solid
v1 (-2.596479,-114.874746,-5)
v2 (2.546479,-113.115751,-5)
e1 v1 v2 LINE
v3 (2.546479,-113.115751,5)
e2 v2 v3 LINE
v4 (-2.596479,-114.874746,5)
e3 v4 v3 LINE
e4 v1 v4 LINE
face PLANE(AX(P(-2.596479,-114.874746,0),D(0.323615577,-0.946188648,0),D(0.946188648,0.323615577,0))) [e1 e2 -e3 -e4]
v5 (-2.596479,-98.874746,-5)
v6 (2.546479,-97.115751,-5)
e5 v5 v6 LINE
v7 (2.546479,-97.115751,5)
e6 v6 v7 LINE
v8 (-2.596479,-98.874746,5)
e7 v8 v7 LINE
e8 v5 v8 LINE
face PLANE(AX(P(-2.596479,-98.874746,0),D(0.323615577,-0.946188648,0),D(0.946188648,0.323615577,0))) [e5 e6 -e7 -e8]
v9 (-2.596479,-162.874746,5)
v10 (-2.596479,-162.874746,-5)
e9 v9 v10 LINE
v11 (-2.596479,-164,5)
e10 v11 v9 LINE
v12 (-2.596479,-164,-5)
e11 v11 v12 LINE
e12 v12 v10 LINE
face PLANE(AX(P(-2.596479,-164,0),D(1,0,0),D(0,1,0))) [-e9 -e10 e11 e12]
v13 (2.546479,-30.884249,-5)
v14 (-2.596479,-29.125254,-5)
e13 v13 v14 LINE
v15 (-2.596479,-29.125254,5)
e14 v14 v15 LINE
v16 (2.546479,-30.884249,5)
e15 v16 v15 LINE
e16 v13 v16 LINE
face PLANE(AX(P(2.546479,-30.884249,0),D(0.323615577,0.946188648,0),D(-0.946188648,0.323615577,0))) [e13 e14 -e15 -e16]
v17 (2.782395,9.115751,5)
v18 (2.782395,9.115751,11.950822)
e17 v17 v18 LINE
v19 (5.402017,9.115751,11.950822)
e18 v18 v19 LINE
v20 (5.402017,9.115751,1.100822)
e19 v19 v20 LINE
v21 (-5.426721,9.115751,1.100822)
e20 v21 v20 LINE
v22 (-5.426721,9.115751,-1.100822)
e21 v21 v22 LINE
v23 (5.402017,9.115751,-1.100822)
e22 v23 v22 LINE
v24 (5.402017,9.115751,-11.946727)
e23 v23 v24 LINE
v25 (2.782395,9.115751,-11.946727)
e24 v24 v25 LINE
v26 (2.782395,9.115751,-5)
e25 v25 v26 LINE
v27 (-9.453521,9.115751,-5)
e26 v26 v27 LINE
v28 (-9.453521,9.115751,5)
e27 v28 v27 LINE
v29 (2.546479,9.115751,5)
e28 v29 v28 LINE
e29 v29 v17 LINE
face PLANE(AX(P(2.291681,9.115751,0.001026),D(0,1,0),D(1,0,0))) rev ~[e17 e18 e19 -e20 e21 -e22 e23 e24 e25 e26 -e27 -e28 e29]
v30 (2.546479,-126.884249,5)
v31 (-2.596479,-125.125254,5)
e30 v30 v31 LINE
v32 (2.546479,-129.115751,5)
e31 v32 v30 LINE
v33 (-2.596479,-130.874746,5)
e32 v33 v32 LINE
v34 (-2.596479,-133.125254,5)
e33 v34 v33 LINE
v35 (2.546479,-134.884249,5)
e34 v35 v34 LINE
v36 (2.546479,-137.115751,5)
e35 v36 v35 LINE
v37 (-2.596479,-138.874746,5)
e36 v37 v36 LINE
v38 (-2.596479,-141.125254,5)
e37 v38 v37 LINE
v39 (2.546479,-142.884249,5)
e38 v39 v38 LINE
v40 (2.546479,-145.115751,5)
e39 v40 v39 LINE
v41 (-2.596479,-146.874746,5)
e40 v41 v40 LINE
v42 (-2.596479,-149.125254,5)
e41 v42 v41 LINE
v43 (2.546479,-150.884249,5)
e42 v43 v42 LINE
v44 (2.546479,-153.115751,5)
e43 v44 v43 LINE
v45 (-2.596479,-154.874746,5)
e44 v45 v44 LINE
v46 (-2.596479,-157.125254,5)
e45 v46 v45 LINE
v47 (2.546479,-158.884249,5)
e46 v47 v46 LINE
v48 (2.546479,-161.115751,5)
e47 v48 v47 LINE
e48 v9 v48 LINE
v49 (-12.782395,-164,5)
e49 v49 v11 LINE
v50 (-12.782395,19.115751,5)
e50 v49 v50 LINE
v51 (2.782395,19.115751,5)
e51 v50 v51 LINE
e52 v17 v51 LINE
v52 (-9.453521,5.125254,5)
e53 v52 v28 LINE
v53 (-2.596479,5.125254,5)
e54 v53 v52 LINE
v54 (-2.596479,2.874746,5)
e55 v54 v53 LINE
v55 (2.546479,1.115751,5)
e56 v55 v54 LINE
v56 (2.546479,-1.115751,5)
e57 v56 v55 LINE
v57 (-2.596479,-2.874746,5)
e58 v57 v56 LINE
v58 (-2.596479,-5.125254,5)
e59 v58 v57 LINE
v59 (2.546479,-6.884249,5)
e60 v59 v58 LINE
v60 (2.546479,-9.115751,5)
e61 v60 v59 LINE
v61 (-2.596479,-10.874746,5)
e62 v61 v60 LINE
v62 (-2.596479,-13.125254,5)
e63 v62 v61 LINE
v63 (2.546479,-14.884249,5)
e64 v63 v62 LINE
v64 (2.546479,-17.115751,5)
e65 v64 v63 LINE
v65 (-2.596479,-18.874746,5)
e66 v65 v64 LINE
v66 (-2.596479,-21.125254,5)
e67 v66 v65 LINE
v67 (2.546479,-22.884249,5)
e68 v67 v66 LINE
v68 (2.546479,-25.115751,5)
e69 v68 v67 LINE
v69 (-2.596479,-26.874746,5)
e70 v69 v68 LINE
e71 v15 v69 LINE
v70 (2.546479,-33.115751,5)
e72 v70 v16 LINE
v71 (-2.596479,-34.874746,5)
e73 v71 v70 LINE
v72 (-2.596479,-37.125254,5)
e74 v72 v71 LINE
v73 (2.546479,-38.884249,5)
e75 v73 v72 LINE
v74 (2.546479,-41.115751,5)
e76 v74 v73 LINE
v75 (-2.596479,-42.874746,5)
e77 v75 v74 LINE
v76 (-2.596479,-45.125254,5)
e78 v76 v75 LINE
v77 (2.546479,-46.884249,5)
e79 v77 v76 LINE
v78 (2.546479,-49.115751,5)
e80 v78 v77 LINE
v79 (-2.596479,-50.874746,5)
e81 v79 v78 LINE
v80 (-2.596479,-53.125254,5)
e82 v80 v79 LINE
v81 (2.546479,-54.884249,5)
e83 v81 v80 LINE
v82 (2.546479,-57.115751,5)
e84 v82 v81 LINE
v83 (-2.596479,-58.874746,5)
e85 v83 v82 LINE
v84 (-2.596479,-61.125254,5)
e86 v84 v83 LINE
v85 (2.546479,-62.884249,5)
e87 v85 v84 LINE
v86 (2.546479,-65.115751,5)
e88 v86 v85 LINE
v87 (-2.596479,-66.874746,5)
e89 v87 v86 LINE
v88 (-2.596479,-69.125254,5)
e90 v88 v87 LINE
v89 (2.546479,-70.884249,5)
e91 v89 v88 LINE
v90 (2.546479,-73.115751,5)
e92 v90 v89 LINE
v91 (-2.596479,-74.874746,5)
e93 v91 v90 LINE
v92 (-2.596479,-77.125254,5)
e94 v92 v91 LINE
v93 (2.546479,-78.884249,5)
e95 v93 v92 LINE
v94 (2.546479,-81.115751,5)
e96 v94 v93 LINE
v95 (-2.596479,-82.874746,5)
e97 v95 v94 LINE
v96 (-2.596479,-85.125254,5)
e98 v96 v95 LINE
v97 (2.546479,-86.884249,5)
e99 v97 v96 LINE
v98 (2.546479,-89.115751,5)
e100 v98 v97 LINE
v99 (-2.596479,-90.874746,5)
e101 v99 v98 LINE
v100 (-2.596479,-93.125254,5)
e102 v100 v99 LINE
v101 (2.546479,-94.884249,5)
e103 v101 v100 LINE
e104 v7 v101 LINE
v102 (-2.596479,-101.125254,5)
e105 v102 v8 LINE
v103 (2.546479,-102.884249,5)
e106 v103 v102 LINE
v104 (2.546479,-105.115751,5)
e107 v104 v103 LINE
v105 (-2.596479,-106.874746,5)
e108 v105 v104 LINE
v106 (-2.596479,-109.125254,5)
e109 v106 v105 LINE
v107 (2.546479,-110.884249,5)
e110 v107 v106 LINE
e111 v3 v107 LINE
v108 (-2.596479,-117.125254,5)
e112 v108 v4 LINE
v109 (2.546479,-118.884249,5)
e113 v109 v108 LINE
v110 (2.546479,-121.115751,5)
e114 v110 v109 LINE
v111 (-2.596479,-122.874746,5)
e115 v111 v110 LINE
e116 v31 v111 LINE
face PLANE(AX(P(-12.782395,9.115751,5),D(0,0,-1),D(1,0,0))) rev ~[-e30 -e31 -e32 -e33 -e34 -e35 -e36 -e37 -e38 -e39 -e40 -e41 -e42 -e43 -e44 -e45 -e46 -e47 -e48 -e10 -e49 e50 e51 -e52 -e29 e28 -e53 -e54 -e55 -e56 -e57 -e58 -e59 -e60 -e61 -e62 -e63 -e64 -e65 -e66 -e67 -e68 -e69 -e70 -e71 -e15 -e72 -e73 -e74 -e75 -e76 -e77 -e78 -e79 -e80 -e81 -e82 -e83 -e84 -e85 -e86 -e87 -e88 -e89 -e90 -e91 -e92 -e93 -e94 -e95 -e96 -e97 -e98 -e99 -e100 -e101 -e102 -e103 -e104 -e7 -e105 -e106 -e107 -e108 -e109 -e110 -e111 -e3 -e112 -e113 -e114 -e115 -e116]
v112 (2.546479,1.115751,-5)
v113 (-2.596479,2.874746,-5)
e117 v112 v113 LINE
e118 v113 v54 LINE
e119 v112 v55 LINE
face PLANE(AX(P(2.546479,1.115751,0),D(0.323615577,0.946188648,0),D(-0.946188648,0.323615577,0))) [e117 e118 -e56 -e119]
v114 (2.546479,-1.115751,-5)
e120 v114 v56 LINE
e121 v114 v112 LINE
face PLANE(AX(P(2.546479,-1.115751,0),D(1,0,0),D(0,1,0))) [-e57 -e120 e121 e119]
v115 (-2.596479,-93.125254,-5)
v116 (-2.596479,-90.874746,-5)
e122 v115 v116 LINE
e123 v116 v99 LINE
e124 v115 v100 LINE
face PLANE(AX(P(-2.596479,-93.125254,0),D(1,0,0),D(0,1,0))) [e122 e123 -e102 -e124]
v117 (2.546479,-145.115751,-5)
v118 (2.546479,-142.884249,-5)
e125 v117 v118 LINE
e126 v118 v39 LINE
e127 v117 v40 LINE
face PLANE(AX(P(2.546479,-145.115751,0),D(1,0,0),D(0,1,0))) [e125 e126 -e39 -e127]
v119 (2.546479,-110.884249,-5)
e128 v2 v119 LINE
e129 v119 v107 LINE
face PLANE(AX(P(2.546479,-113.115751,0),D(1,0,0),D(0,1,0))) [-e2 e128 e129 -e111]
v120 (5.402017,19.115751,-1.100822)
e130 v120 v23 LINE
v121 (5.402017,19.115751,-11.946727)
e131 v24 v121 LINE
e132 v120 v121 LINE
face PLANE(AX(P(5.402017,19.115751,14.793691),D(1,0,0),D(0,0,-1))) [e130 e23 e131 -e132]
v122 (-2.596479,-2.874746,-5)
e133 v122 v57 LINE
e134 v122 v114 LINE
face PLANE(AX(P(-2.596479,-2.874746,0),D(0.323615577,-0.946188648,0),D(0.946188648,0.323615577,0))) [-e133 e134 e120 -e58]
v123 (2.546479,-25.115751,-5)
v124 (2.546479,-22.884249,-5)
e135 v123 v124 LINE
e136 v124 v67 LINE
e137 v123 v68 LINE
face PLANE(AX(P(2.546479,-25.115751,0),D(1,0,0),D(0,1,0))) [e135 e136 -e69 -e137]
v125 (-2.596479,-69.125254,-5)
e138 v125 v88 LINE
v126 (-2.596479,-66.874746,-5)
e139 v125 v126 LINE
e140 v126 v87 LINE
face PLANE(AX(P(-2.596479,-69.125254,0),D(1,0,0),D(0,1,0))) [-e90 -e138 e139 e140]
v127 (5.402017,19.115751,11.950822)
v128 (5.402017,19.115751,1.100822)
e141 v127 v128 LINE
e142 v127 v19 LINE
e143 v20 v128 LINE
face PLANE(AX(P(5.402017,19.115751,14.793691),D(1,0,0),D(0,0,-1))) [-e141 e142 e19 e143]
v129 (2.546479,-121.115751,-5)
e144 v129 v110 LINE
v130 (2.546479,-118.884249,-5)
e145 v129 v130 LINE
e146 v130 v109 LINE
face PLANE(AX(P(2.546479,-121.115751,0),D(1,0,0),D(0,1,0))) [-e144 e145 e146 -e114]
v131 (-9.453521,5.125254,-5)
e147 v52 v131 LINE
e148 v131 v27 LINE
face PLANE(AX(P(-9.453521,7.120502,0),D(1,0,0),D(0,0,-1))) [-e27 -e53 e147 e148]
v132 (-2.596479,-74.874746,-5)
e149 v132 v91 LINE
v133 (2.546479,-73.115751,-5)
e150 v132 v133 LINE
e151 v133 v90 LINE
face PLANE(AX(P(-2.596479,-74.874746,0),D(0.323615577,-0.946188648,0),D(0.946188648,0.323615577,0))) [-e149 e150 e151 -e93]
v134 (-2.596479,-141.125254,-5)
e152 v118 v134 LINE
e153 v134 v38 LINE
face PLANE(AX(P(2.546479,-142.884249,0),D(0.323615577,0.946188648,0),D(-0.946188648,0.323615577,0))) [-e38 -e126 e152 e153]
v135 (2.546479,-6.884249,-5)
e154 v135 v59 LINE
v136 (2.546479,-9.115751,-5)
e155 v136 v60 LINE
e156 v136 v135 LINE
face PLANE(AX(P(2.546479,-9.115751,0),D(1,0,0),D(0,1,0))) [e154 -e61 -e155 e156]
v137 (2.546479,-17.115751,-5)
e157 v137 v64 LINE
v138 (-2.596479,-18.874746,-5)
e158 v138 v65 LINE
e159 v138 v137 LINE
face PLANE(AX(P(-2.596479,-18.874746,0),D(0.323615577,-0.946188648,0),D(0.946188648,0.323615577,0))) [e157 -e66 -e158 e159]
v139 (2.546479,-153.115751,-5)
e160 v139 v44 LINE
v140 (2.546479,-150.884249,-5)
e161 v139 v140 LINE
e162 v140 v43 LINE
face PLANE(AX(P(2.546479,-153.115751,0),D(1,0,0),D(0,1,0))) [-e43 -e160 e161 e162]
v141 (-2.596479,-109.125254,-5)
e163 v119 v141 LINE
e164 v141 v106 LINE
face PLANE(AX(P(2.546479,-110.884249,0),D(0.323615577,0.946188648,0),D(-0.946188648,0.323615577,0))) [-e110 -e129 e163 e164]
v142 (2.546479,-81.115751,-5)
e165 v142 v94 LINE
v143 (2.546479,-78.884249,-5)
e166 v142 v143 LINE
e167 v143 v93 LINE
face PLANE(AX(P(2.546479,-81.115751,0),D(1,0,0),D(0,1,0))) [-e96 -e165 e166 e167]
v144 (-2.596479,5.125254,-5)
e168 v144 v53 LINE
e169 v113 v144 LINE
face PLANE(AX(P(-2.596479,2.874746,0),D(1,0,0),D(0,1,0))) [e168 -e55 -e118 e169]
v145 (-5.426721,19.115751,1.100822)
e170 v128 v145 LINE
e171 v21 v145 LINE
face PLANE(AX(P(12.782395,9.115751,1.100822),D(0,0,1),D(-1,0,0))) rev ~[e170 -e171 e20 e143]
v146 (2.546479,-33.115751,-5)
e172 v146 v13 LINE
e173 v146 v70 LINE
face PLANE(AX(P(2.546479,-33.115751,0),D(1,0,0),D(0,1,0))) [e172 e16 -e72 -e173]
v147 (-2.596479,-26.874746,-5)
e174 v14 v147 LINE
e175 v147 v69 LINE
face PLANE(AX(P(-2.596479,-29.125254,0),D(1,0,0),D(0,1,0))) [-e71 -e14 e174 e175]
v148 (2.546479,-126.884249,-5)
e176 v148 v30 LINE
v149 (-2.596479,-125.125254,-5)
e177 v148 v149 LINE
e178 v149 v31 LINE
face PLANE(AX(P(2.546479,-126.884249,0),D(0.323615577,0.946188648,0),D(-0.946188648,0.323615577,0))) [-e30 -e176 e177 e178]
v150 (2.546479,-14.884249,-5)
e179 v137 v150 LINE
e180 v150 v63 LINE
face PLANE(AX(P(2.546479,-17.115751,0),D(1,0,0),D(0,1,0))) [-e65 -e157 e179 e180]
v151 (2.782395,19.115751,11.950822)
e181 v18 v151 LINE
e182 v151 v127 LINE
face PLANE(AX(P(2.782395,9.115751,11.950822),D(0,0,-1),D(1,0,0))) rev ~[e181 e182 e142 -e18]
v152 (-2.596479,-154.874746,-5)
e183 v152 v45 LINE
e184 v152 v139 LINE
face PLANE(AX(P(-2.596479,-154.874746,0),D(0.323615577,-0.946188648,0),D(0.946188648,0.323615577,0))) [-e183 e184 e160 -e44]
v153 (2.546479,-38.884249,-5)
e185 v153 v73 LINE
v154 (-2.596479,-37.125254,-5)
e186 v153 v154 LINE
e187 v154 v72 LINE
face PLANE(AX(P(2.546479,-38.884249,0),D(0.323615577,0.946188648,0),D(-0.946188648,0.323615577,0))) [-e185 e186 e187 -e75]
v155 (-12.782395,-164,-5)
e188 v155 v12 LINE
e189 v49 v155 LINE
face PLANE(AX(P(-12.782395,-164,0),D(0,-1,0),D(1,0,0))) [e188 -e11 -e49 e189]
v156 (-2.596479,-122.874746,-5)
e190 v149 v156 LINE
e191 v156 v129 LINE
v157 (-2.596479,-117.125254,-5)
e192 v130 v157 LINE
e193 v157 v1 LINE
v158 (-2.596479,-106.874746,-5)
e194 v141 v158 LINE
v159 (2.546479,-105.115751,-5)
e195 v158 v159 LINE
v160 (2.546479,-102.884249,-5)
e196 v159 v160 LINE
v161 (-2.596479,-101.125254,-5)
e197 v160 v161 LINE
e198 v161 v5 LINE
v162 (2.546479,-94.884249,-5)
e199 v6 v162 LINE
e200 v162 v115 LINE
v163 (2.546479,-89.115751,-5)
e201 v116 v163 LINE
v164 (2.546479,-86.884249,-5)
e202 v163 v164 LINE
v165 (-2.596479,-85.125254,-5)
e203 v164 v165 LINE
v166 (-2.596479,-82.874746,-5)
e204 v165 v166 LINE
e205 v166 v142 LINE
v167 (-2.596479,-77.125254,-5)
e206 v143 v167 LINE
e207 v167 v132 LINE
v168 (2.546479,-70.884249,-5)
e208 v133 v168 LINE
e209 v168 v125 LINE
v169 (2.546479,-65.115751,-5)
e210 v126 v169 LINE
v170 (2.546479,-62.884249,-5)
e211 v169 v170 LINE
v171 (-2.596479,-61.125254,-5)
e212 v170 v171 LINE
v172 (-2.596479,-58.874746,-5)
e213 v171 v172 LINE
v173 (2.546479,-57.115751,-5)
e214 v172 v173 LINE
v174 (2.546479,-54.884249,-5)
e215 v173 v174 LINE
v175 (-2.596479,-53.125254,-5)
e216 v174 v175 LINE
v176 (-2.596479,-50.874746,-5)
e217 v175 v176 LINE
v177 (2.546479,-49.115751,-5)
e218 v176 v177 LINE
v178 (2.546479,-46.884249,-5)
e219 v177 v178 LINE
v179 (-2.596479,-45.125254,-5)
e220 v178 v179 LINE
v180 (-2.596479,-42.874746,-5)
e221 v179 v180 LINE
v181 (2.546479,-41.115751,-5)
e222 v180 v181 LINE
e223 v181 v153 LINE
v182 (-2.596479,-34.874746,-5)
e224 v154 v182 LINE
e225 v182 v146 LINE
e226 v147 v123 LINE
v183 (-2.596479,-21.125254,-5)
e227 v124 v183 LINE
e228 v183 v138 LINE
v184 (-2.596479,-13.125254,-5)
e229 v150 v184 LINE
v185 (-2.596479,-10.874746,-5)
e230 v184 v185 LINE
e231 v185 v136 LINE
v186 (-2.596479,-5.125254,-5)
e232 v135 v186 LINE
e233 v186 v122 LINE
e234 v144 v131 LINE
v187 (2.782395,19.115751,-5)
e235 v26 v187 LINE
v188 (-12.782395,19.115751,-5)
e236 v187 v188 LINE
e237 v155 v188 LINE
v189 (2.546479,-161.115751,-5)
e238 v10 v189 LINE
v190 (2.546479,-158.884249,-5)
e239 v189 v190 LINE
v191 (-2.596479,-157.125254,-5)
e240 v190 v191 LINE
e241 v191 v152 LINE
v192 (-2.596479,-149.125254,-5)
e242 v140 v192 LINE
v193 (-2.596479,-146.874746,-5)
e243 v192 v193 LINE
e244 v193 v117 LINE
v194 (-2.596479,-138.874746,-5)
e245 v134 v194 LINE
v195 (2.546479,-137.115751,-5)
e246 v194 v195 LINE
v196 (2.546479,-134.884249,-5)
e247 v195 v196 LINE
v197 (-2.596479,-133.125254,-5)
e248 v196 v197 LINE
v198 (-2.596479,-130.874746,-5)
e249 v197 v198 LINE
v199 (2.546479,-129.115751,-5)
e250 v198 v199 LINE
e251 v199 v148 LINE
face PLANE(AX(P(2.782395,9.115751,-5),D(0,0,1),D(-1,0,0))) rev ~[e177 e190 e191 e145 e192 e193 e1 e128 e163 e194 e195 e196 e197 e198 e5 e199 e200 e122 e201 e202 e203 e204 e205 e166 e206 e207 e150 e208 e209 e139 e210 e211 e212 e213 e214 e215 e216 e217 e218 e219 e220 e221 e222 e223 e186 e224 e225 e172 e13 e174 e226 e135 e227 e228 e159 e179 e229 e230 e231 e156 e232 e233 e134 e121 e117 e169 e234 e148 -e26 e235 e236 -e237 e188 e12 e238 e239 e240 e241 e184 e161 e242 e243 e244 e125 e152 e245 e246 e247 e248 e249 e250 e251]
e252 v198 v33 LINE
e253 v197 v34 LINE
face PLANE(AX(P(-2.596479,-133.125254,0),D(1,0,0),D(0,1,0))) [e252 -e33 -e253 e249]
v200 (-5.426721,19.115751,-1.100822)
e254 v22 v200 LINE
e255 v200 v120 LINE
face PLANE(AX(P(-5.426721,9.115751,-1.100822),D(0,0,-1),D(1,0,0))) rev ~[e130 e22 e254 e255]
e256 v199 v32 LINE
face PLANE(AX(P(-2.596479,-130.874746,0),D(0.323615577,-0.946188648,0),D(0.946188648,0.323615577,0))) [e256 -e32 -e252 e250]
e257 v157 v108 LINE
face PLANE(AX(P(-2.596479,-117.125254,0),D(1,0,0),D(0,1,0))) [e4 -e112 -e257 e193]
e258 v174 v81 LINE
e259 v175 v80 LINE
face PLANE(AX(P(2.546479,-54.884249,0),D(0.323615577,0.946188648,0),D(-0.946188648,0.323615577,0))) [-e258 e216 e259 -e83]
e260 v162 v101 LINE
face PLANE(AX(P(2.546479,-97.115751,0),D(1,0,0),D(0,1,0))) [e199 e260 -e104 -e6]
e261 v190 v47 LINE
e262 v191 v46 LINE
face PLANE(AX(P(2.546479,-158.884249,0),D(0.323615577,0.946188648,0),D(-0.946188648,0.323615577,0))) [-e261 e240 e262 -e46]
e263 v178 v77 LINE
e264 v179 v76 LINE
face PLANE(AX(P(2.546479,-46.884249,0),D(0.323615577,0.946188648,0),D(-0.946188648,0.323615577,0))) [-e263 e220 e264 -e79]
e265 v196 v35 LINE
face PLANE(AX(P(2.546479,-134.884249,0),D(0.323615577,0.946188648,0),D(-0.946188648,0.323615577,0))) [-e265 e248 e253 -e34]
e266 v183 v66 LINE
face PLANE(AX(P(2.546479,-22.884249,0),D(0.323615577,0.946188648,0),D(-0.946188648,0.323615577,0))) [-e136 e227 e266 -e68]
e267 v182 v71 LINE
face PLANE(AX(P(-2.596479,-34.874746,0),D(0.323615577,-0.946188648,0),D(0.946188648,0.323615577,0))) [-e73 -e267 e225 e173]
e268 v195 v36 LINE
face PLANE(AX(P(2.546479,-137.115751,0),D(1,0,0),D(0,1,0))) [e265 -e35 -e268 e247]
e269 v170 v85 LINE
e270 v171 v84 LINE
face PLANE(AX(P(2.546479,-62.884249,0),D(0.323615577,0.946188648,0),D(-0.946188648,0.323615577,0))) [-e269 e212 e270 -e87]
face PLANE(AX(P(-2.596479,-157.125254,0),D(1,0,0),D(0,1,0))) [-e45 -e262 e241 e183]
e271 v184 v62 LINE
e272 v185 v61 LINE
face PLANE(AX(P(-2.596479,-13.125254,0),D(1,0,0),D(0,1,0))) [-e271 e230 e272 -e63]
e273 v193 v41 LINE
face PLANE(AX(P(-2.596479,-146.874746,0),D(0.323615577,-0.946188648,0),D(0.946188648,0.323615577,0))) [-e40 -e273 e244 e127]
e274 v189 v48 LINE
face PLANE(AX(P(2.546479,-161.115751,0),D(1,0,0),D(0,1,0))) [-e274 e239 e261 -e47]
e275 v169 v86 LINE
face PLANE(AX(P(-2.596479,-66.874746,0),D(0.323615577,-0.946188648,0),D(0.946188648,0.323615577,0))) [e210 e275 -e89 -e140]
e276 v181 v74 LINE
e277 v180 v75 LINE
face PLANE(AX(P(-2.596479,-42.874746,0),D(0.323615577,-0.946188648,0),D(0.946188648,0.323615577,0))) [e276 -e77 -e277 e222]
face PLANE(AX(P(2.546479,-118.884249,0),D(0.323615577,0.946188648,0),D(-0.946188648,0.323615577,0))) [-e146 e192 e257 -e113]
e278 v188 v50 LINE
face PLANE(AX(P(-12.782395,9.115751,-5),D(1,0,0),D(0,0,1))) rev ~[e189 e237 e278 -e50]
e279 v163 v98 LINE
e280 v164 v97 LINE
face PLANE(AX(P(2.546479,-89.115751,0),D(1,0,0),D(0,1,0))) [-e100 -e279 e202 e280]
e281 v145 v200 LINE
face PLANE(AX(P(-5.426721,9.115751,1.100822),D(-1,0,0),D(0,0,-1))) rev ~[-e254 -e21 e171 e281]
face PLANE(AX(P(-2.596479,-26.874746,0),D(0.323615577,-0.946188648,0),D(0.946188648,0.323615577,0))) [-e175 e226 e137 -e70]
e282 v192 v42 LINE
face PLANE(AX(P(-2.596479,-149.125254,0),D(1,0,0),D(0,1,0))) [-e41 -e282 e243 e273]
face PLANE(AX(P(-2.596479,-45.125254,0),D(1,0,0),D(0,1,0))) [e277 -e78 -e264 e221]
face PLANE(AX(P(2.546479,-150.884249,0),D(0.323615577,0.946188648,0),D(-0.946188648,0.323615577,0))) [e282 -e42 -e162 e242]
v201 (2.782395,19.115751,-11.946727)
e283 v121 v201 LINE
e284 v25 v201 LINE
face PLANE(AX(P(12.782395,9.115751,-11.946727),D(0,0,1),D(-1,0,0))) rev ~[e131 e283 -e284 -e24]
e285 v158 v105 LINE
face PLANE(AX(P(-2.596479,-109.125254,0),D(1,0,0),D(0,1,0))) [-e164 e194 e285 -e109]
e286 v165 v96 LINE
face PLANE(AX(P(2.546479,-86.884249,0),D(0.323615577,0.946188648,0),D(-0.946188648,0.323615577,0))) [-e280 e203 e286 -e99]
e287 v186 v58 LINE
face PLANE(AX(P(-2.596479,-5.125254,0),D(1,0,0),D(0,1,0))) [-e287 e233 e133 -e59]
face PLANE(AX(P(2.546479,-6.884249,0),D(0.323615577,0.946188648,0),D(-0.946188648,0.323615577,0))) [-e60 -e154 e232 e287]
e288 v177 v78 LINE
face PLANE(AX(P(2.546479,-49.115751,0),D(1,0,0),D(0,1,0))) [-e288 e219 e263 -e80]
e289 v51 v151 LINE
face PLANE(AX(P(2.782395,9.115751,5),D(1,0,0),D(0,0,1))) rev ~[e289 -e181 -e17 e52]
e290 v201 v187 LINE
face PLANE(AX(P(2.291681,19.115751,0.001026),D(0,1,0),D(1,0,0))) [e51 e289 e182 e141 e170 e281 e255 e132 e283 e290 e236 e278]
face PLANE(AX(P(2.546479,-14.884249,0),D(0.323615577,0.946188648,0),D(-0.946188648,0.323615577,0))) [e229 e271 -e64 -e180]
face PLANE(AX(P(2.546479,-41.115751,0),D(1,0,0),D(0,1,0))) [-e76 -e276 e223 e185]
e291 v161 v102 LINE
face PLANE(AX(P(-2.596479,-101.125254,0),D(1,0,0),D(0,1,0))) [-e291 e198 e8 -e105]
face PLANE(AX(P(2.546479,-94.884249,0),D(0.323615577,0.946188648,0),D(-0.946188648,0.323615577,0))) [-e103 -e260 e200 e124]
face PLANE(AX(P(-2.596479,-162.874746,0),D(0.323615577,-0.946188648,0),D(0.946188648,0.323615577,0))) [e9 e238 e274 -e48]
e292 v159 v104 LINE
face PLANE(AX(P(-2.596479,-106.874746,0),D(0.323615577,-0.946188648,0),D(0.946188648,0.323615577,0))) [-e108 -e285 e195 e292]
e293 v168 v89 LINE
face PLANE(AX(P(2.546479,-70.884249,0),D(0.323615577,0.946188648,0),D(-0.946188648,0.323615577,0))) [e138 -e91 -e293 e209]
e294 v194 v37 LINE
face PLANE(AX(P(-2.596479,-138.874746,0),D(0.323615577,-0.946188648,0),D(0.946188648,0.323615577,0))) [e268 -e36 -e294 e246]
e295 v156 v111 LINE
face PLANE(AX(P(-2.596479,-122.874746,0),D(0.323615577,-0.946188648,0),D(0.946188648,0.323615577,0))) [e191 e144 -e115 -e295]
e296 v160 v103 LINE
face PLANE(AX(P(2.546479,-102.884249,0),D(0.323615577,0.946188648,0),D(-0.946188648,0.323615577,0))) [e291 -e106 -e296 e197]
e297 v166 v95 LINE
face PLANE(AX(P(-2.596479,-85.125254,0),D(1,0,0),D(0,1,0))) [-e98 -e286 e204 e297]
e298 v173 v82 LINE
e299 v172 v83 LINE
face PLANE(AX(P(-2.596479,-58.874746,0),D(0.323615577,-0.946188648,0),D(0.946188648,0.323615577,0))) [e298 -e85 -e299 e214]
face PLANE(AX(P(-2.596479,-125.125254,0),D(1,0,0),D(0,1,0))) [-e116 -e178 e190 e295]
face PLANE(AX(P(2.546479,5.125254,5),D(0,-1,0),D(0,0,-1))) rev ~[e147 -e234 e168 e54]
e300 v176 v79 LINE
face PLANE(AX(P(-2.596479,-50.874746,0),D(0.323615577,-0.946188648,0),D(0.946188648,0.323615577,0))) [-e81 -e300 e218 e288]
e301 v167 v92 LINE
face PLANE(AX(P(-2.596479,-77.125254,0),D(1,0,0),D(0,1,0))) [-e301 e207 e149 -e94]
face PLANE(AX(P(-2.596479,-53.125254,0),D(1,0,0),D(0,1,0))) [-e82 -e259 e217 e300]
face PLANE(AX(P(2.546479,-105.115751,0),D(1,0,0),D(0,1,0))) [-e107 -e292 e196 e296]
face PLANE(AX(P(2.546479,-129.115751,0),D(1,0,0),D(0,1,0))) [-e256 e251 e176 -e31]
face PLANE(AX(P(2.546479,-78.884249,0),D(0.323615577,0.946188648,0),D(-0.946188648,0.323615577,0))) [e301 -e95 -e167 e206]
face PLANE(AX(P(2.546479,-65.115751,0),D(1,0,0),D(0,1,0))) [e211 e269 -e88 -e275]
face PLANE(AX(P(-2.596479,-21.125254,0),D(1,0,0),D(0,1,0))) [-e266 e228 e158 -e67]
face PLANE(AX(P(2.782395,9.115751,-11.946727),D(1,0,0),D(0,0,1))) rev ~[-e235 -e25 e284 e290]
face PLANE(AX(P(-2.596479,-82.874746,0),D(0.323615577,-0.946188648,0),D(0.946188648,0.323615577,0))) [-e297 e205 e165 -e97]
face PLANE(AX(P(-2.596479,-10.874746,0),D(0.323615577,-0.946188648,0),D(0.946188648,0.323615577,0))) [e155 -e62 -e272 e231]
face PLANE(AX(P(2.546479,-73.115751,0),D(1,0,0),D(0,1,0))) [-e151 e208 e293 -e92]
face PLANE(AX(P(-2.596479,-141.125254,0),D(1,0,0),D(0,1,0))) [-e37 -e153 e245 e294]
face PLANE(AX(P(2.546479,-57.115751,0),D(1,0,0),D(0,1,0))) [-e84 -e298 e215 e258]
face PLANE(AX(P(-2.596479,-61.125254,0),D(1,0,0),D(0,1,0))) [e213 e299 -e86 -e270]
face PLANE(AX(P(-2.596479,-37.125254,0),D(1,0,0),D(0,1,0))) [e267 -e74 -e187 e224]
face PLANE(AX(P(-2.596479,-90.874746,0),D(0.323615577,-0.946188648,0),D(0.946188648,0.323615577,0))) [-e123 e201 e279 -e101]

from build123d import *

# Parameters (mm, degrees)
RESSALTO_EXTRUS_O1_DEPTH = 5
BOSS_EXTRUDE1_DEPTH      = 10
CUT_EXTRUDE1_DEPTH       = 50
SKETCH3_W                = 10
SKETCH3_H                = 3.990496563
CUT_EXTRUDE2_DEPTH       = 12


with BuildPart() as part:
    # Esboço1 → Ressalto-extrusão1 (new, symmetric)
    with BuildSketch(Plane.XY):
        Polygon((-2.596479089, -162.874745928), (2.546479089, -161.115750635), (2.546479089, -158.884249365), (-2.596479089, -157.125254072), (-2.596479089, -154.874745928), (2.546479089, -153.115750635), (2.546479089, -150.884249365), (-2.596479089, -149.125254072), (-2.596479089, -146.874745928), (2.546479089, -145.115750635), (2.546479089, -142.884249365), (-2.596479089, -141.125254072), (-2.596479089, -138.874745928), (2.546479089, -137.115750635), (2.546479089, -134.884249365), (-2.596479089, -133.125254072), (-2.596479089, -130.874745928), (2.546479089, -129.115750635), (2.546479089, -126.884249365), (-2.596479089, -125.125254072), (-2.596479089, -122.874745928), (2.546479089, -121.115750635), (2.546479089, -118.884249365), (-2.596479089, -117.125254072), (-2.596479089, -114.874745928), (2.546479089, -113.115750635), (2.546479089, -110.884249365), (-2.596479089, -109.125254072), (-2.596479089, -106.874745928), (2.546479089, -105.115750635), (2.546479089, -102.884249365), (-2.596479089, -101.125254072), (-2.596479089, -98.874745928), (2.546479089, -97.115750635), (2.546479089, -94.884249365), (-2.596479089, -93.125254072), (-2.596479089, -90.874745928), (2.546479089, -89.115750635), (2.546479089, -86.884249365), (-2.596479089, -85.125254072), (-2.596479089, -82.874745928), (2.546479089, -81.115750635), (2.546479089, -78.884249365), (-2.596479089, -77.125254072), (-2.596479089, -74.874745928), (2.546479089, -73.115750635), (2.546479089, -70.884249365), (-2.596479089, -69.125254072), (-2.596479089, -66.874745928), (2.546479089, -65.115750635), (2.546479089, -62.884249365), (-2.596479089, -61.125254072), (-2.596479089, -58.874745928), (2.546479089, -57.115750635), (2.546479089, -54.884249365), (-2.596479089, -53.125254072), (-2.596479089, -50.874745928), (2.546479089, -49.115750635), (2.546479089, -46.884249365), (-2.596479089, -45.125254072), (-2.596479089, -42.874745928), (2.546479089, -41.115750635), (2.546479089, -38.884249365), (-2.596479089, -37.125254072), (-2.596479089, -34.874745928), (2.546479089, -33.115750635), (2.546479089, -30.884249365), (-2.596479089, -29.125254072), (-2.596479089, -26.874745928), (2.546479089, -25.115750635), (2.546479089, -22.884249365), (-2.596479089, -21.125254072), (-2.596479089, -18.874745928), (2.546479089, -17.115750635), (2.546479089, -14.884249365), (-2.596479089, -13.125254072), (-2.596479089, -10.874745928), (2.546479089, -9.115750635), (2.546479089, -6.884249365), (-2.596479089, -5.125254072), (-2.596479089, -2.874745928), (2.546479089, -1.115750635), (2.546479089, 1.115750635), (-2.596479089, 2.874745928), (-2.596479089, 5.125254072), (2.546479089, 6.884249365), (2.546479089, 9.115750635), (-12.782395447, 9.115750635), (-12.782395447, -164), (-2.596479089, -164), align=None)
    extrude(amount=RESSALTO_EXTRUS_O1_DEPTH, both=True)

    # Sketch1 → Boss-Extrude1 (add)
    with BuildSketch(Plane(origin=(0, 9.115750635, 0), x_dir=(1, 0, 0), z_dir=(0, 1, 0))):
        Polygon((2.782395447, 5), (-12.782395447, 5), (-12.782395447, -5), (2.782395447, -5), (2.782395447, -11.950821596), (7.782395447, -11.950821596), (12.782395447, -11.950821596), (12.782395447, -1.100821596), (7.782395447, -1.100821596), (-5.426721346, -1.100821596), (-5.426721346, 1.100821596), (2.782395447, 1.100821596), (12.782395447, 1.100821596), (12.782395447, 11.946726984), (7.782395447, 11.946726984), (2.782395447, 11.946726984), align=None)
    extrude(amount=BOSS_EXTRUDE1_DEPTH)

    # Sketch2 → Cut-Extrude1 (cut)
    with BuildSketch(Plane(origin=(0, 19.115750635, 0), x_dir=(1, 0, 0), z_dir=(0, 1, 0))):
        Polygon((10.616582745, 13.051407562), (13.445399336, 13.051407562), (13.445399336, -14.793690682), (10.616582745, -14.793690682), (5.402017224, -14.793690682), (5.402017224, 13.051407562), align=None)
    extrude(amount=-CUT_EXTRUDE1_DEPTH, mode=Mode.SUBTRACT)

    # Sketch3 → Cut-Extrude2 (cut)
    with BuildSketch(Plane(origin=(2.546479089, 0, 0), x_dir=(0, 0, -1), z_dir=(1, 0, 0))):
        with Locations((0, 7.120502354)):
            Rectangle(SKETCH3_W, SKETCH3_H)
    extrude(amount=-CUT_EXTRUDE2_DEPTH, mode=Mode.SUBTRACT)


solid = part.part
